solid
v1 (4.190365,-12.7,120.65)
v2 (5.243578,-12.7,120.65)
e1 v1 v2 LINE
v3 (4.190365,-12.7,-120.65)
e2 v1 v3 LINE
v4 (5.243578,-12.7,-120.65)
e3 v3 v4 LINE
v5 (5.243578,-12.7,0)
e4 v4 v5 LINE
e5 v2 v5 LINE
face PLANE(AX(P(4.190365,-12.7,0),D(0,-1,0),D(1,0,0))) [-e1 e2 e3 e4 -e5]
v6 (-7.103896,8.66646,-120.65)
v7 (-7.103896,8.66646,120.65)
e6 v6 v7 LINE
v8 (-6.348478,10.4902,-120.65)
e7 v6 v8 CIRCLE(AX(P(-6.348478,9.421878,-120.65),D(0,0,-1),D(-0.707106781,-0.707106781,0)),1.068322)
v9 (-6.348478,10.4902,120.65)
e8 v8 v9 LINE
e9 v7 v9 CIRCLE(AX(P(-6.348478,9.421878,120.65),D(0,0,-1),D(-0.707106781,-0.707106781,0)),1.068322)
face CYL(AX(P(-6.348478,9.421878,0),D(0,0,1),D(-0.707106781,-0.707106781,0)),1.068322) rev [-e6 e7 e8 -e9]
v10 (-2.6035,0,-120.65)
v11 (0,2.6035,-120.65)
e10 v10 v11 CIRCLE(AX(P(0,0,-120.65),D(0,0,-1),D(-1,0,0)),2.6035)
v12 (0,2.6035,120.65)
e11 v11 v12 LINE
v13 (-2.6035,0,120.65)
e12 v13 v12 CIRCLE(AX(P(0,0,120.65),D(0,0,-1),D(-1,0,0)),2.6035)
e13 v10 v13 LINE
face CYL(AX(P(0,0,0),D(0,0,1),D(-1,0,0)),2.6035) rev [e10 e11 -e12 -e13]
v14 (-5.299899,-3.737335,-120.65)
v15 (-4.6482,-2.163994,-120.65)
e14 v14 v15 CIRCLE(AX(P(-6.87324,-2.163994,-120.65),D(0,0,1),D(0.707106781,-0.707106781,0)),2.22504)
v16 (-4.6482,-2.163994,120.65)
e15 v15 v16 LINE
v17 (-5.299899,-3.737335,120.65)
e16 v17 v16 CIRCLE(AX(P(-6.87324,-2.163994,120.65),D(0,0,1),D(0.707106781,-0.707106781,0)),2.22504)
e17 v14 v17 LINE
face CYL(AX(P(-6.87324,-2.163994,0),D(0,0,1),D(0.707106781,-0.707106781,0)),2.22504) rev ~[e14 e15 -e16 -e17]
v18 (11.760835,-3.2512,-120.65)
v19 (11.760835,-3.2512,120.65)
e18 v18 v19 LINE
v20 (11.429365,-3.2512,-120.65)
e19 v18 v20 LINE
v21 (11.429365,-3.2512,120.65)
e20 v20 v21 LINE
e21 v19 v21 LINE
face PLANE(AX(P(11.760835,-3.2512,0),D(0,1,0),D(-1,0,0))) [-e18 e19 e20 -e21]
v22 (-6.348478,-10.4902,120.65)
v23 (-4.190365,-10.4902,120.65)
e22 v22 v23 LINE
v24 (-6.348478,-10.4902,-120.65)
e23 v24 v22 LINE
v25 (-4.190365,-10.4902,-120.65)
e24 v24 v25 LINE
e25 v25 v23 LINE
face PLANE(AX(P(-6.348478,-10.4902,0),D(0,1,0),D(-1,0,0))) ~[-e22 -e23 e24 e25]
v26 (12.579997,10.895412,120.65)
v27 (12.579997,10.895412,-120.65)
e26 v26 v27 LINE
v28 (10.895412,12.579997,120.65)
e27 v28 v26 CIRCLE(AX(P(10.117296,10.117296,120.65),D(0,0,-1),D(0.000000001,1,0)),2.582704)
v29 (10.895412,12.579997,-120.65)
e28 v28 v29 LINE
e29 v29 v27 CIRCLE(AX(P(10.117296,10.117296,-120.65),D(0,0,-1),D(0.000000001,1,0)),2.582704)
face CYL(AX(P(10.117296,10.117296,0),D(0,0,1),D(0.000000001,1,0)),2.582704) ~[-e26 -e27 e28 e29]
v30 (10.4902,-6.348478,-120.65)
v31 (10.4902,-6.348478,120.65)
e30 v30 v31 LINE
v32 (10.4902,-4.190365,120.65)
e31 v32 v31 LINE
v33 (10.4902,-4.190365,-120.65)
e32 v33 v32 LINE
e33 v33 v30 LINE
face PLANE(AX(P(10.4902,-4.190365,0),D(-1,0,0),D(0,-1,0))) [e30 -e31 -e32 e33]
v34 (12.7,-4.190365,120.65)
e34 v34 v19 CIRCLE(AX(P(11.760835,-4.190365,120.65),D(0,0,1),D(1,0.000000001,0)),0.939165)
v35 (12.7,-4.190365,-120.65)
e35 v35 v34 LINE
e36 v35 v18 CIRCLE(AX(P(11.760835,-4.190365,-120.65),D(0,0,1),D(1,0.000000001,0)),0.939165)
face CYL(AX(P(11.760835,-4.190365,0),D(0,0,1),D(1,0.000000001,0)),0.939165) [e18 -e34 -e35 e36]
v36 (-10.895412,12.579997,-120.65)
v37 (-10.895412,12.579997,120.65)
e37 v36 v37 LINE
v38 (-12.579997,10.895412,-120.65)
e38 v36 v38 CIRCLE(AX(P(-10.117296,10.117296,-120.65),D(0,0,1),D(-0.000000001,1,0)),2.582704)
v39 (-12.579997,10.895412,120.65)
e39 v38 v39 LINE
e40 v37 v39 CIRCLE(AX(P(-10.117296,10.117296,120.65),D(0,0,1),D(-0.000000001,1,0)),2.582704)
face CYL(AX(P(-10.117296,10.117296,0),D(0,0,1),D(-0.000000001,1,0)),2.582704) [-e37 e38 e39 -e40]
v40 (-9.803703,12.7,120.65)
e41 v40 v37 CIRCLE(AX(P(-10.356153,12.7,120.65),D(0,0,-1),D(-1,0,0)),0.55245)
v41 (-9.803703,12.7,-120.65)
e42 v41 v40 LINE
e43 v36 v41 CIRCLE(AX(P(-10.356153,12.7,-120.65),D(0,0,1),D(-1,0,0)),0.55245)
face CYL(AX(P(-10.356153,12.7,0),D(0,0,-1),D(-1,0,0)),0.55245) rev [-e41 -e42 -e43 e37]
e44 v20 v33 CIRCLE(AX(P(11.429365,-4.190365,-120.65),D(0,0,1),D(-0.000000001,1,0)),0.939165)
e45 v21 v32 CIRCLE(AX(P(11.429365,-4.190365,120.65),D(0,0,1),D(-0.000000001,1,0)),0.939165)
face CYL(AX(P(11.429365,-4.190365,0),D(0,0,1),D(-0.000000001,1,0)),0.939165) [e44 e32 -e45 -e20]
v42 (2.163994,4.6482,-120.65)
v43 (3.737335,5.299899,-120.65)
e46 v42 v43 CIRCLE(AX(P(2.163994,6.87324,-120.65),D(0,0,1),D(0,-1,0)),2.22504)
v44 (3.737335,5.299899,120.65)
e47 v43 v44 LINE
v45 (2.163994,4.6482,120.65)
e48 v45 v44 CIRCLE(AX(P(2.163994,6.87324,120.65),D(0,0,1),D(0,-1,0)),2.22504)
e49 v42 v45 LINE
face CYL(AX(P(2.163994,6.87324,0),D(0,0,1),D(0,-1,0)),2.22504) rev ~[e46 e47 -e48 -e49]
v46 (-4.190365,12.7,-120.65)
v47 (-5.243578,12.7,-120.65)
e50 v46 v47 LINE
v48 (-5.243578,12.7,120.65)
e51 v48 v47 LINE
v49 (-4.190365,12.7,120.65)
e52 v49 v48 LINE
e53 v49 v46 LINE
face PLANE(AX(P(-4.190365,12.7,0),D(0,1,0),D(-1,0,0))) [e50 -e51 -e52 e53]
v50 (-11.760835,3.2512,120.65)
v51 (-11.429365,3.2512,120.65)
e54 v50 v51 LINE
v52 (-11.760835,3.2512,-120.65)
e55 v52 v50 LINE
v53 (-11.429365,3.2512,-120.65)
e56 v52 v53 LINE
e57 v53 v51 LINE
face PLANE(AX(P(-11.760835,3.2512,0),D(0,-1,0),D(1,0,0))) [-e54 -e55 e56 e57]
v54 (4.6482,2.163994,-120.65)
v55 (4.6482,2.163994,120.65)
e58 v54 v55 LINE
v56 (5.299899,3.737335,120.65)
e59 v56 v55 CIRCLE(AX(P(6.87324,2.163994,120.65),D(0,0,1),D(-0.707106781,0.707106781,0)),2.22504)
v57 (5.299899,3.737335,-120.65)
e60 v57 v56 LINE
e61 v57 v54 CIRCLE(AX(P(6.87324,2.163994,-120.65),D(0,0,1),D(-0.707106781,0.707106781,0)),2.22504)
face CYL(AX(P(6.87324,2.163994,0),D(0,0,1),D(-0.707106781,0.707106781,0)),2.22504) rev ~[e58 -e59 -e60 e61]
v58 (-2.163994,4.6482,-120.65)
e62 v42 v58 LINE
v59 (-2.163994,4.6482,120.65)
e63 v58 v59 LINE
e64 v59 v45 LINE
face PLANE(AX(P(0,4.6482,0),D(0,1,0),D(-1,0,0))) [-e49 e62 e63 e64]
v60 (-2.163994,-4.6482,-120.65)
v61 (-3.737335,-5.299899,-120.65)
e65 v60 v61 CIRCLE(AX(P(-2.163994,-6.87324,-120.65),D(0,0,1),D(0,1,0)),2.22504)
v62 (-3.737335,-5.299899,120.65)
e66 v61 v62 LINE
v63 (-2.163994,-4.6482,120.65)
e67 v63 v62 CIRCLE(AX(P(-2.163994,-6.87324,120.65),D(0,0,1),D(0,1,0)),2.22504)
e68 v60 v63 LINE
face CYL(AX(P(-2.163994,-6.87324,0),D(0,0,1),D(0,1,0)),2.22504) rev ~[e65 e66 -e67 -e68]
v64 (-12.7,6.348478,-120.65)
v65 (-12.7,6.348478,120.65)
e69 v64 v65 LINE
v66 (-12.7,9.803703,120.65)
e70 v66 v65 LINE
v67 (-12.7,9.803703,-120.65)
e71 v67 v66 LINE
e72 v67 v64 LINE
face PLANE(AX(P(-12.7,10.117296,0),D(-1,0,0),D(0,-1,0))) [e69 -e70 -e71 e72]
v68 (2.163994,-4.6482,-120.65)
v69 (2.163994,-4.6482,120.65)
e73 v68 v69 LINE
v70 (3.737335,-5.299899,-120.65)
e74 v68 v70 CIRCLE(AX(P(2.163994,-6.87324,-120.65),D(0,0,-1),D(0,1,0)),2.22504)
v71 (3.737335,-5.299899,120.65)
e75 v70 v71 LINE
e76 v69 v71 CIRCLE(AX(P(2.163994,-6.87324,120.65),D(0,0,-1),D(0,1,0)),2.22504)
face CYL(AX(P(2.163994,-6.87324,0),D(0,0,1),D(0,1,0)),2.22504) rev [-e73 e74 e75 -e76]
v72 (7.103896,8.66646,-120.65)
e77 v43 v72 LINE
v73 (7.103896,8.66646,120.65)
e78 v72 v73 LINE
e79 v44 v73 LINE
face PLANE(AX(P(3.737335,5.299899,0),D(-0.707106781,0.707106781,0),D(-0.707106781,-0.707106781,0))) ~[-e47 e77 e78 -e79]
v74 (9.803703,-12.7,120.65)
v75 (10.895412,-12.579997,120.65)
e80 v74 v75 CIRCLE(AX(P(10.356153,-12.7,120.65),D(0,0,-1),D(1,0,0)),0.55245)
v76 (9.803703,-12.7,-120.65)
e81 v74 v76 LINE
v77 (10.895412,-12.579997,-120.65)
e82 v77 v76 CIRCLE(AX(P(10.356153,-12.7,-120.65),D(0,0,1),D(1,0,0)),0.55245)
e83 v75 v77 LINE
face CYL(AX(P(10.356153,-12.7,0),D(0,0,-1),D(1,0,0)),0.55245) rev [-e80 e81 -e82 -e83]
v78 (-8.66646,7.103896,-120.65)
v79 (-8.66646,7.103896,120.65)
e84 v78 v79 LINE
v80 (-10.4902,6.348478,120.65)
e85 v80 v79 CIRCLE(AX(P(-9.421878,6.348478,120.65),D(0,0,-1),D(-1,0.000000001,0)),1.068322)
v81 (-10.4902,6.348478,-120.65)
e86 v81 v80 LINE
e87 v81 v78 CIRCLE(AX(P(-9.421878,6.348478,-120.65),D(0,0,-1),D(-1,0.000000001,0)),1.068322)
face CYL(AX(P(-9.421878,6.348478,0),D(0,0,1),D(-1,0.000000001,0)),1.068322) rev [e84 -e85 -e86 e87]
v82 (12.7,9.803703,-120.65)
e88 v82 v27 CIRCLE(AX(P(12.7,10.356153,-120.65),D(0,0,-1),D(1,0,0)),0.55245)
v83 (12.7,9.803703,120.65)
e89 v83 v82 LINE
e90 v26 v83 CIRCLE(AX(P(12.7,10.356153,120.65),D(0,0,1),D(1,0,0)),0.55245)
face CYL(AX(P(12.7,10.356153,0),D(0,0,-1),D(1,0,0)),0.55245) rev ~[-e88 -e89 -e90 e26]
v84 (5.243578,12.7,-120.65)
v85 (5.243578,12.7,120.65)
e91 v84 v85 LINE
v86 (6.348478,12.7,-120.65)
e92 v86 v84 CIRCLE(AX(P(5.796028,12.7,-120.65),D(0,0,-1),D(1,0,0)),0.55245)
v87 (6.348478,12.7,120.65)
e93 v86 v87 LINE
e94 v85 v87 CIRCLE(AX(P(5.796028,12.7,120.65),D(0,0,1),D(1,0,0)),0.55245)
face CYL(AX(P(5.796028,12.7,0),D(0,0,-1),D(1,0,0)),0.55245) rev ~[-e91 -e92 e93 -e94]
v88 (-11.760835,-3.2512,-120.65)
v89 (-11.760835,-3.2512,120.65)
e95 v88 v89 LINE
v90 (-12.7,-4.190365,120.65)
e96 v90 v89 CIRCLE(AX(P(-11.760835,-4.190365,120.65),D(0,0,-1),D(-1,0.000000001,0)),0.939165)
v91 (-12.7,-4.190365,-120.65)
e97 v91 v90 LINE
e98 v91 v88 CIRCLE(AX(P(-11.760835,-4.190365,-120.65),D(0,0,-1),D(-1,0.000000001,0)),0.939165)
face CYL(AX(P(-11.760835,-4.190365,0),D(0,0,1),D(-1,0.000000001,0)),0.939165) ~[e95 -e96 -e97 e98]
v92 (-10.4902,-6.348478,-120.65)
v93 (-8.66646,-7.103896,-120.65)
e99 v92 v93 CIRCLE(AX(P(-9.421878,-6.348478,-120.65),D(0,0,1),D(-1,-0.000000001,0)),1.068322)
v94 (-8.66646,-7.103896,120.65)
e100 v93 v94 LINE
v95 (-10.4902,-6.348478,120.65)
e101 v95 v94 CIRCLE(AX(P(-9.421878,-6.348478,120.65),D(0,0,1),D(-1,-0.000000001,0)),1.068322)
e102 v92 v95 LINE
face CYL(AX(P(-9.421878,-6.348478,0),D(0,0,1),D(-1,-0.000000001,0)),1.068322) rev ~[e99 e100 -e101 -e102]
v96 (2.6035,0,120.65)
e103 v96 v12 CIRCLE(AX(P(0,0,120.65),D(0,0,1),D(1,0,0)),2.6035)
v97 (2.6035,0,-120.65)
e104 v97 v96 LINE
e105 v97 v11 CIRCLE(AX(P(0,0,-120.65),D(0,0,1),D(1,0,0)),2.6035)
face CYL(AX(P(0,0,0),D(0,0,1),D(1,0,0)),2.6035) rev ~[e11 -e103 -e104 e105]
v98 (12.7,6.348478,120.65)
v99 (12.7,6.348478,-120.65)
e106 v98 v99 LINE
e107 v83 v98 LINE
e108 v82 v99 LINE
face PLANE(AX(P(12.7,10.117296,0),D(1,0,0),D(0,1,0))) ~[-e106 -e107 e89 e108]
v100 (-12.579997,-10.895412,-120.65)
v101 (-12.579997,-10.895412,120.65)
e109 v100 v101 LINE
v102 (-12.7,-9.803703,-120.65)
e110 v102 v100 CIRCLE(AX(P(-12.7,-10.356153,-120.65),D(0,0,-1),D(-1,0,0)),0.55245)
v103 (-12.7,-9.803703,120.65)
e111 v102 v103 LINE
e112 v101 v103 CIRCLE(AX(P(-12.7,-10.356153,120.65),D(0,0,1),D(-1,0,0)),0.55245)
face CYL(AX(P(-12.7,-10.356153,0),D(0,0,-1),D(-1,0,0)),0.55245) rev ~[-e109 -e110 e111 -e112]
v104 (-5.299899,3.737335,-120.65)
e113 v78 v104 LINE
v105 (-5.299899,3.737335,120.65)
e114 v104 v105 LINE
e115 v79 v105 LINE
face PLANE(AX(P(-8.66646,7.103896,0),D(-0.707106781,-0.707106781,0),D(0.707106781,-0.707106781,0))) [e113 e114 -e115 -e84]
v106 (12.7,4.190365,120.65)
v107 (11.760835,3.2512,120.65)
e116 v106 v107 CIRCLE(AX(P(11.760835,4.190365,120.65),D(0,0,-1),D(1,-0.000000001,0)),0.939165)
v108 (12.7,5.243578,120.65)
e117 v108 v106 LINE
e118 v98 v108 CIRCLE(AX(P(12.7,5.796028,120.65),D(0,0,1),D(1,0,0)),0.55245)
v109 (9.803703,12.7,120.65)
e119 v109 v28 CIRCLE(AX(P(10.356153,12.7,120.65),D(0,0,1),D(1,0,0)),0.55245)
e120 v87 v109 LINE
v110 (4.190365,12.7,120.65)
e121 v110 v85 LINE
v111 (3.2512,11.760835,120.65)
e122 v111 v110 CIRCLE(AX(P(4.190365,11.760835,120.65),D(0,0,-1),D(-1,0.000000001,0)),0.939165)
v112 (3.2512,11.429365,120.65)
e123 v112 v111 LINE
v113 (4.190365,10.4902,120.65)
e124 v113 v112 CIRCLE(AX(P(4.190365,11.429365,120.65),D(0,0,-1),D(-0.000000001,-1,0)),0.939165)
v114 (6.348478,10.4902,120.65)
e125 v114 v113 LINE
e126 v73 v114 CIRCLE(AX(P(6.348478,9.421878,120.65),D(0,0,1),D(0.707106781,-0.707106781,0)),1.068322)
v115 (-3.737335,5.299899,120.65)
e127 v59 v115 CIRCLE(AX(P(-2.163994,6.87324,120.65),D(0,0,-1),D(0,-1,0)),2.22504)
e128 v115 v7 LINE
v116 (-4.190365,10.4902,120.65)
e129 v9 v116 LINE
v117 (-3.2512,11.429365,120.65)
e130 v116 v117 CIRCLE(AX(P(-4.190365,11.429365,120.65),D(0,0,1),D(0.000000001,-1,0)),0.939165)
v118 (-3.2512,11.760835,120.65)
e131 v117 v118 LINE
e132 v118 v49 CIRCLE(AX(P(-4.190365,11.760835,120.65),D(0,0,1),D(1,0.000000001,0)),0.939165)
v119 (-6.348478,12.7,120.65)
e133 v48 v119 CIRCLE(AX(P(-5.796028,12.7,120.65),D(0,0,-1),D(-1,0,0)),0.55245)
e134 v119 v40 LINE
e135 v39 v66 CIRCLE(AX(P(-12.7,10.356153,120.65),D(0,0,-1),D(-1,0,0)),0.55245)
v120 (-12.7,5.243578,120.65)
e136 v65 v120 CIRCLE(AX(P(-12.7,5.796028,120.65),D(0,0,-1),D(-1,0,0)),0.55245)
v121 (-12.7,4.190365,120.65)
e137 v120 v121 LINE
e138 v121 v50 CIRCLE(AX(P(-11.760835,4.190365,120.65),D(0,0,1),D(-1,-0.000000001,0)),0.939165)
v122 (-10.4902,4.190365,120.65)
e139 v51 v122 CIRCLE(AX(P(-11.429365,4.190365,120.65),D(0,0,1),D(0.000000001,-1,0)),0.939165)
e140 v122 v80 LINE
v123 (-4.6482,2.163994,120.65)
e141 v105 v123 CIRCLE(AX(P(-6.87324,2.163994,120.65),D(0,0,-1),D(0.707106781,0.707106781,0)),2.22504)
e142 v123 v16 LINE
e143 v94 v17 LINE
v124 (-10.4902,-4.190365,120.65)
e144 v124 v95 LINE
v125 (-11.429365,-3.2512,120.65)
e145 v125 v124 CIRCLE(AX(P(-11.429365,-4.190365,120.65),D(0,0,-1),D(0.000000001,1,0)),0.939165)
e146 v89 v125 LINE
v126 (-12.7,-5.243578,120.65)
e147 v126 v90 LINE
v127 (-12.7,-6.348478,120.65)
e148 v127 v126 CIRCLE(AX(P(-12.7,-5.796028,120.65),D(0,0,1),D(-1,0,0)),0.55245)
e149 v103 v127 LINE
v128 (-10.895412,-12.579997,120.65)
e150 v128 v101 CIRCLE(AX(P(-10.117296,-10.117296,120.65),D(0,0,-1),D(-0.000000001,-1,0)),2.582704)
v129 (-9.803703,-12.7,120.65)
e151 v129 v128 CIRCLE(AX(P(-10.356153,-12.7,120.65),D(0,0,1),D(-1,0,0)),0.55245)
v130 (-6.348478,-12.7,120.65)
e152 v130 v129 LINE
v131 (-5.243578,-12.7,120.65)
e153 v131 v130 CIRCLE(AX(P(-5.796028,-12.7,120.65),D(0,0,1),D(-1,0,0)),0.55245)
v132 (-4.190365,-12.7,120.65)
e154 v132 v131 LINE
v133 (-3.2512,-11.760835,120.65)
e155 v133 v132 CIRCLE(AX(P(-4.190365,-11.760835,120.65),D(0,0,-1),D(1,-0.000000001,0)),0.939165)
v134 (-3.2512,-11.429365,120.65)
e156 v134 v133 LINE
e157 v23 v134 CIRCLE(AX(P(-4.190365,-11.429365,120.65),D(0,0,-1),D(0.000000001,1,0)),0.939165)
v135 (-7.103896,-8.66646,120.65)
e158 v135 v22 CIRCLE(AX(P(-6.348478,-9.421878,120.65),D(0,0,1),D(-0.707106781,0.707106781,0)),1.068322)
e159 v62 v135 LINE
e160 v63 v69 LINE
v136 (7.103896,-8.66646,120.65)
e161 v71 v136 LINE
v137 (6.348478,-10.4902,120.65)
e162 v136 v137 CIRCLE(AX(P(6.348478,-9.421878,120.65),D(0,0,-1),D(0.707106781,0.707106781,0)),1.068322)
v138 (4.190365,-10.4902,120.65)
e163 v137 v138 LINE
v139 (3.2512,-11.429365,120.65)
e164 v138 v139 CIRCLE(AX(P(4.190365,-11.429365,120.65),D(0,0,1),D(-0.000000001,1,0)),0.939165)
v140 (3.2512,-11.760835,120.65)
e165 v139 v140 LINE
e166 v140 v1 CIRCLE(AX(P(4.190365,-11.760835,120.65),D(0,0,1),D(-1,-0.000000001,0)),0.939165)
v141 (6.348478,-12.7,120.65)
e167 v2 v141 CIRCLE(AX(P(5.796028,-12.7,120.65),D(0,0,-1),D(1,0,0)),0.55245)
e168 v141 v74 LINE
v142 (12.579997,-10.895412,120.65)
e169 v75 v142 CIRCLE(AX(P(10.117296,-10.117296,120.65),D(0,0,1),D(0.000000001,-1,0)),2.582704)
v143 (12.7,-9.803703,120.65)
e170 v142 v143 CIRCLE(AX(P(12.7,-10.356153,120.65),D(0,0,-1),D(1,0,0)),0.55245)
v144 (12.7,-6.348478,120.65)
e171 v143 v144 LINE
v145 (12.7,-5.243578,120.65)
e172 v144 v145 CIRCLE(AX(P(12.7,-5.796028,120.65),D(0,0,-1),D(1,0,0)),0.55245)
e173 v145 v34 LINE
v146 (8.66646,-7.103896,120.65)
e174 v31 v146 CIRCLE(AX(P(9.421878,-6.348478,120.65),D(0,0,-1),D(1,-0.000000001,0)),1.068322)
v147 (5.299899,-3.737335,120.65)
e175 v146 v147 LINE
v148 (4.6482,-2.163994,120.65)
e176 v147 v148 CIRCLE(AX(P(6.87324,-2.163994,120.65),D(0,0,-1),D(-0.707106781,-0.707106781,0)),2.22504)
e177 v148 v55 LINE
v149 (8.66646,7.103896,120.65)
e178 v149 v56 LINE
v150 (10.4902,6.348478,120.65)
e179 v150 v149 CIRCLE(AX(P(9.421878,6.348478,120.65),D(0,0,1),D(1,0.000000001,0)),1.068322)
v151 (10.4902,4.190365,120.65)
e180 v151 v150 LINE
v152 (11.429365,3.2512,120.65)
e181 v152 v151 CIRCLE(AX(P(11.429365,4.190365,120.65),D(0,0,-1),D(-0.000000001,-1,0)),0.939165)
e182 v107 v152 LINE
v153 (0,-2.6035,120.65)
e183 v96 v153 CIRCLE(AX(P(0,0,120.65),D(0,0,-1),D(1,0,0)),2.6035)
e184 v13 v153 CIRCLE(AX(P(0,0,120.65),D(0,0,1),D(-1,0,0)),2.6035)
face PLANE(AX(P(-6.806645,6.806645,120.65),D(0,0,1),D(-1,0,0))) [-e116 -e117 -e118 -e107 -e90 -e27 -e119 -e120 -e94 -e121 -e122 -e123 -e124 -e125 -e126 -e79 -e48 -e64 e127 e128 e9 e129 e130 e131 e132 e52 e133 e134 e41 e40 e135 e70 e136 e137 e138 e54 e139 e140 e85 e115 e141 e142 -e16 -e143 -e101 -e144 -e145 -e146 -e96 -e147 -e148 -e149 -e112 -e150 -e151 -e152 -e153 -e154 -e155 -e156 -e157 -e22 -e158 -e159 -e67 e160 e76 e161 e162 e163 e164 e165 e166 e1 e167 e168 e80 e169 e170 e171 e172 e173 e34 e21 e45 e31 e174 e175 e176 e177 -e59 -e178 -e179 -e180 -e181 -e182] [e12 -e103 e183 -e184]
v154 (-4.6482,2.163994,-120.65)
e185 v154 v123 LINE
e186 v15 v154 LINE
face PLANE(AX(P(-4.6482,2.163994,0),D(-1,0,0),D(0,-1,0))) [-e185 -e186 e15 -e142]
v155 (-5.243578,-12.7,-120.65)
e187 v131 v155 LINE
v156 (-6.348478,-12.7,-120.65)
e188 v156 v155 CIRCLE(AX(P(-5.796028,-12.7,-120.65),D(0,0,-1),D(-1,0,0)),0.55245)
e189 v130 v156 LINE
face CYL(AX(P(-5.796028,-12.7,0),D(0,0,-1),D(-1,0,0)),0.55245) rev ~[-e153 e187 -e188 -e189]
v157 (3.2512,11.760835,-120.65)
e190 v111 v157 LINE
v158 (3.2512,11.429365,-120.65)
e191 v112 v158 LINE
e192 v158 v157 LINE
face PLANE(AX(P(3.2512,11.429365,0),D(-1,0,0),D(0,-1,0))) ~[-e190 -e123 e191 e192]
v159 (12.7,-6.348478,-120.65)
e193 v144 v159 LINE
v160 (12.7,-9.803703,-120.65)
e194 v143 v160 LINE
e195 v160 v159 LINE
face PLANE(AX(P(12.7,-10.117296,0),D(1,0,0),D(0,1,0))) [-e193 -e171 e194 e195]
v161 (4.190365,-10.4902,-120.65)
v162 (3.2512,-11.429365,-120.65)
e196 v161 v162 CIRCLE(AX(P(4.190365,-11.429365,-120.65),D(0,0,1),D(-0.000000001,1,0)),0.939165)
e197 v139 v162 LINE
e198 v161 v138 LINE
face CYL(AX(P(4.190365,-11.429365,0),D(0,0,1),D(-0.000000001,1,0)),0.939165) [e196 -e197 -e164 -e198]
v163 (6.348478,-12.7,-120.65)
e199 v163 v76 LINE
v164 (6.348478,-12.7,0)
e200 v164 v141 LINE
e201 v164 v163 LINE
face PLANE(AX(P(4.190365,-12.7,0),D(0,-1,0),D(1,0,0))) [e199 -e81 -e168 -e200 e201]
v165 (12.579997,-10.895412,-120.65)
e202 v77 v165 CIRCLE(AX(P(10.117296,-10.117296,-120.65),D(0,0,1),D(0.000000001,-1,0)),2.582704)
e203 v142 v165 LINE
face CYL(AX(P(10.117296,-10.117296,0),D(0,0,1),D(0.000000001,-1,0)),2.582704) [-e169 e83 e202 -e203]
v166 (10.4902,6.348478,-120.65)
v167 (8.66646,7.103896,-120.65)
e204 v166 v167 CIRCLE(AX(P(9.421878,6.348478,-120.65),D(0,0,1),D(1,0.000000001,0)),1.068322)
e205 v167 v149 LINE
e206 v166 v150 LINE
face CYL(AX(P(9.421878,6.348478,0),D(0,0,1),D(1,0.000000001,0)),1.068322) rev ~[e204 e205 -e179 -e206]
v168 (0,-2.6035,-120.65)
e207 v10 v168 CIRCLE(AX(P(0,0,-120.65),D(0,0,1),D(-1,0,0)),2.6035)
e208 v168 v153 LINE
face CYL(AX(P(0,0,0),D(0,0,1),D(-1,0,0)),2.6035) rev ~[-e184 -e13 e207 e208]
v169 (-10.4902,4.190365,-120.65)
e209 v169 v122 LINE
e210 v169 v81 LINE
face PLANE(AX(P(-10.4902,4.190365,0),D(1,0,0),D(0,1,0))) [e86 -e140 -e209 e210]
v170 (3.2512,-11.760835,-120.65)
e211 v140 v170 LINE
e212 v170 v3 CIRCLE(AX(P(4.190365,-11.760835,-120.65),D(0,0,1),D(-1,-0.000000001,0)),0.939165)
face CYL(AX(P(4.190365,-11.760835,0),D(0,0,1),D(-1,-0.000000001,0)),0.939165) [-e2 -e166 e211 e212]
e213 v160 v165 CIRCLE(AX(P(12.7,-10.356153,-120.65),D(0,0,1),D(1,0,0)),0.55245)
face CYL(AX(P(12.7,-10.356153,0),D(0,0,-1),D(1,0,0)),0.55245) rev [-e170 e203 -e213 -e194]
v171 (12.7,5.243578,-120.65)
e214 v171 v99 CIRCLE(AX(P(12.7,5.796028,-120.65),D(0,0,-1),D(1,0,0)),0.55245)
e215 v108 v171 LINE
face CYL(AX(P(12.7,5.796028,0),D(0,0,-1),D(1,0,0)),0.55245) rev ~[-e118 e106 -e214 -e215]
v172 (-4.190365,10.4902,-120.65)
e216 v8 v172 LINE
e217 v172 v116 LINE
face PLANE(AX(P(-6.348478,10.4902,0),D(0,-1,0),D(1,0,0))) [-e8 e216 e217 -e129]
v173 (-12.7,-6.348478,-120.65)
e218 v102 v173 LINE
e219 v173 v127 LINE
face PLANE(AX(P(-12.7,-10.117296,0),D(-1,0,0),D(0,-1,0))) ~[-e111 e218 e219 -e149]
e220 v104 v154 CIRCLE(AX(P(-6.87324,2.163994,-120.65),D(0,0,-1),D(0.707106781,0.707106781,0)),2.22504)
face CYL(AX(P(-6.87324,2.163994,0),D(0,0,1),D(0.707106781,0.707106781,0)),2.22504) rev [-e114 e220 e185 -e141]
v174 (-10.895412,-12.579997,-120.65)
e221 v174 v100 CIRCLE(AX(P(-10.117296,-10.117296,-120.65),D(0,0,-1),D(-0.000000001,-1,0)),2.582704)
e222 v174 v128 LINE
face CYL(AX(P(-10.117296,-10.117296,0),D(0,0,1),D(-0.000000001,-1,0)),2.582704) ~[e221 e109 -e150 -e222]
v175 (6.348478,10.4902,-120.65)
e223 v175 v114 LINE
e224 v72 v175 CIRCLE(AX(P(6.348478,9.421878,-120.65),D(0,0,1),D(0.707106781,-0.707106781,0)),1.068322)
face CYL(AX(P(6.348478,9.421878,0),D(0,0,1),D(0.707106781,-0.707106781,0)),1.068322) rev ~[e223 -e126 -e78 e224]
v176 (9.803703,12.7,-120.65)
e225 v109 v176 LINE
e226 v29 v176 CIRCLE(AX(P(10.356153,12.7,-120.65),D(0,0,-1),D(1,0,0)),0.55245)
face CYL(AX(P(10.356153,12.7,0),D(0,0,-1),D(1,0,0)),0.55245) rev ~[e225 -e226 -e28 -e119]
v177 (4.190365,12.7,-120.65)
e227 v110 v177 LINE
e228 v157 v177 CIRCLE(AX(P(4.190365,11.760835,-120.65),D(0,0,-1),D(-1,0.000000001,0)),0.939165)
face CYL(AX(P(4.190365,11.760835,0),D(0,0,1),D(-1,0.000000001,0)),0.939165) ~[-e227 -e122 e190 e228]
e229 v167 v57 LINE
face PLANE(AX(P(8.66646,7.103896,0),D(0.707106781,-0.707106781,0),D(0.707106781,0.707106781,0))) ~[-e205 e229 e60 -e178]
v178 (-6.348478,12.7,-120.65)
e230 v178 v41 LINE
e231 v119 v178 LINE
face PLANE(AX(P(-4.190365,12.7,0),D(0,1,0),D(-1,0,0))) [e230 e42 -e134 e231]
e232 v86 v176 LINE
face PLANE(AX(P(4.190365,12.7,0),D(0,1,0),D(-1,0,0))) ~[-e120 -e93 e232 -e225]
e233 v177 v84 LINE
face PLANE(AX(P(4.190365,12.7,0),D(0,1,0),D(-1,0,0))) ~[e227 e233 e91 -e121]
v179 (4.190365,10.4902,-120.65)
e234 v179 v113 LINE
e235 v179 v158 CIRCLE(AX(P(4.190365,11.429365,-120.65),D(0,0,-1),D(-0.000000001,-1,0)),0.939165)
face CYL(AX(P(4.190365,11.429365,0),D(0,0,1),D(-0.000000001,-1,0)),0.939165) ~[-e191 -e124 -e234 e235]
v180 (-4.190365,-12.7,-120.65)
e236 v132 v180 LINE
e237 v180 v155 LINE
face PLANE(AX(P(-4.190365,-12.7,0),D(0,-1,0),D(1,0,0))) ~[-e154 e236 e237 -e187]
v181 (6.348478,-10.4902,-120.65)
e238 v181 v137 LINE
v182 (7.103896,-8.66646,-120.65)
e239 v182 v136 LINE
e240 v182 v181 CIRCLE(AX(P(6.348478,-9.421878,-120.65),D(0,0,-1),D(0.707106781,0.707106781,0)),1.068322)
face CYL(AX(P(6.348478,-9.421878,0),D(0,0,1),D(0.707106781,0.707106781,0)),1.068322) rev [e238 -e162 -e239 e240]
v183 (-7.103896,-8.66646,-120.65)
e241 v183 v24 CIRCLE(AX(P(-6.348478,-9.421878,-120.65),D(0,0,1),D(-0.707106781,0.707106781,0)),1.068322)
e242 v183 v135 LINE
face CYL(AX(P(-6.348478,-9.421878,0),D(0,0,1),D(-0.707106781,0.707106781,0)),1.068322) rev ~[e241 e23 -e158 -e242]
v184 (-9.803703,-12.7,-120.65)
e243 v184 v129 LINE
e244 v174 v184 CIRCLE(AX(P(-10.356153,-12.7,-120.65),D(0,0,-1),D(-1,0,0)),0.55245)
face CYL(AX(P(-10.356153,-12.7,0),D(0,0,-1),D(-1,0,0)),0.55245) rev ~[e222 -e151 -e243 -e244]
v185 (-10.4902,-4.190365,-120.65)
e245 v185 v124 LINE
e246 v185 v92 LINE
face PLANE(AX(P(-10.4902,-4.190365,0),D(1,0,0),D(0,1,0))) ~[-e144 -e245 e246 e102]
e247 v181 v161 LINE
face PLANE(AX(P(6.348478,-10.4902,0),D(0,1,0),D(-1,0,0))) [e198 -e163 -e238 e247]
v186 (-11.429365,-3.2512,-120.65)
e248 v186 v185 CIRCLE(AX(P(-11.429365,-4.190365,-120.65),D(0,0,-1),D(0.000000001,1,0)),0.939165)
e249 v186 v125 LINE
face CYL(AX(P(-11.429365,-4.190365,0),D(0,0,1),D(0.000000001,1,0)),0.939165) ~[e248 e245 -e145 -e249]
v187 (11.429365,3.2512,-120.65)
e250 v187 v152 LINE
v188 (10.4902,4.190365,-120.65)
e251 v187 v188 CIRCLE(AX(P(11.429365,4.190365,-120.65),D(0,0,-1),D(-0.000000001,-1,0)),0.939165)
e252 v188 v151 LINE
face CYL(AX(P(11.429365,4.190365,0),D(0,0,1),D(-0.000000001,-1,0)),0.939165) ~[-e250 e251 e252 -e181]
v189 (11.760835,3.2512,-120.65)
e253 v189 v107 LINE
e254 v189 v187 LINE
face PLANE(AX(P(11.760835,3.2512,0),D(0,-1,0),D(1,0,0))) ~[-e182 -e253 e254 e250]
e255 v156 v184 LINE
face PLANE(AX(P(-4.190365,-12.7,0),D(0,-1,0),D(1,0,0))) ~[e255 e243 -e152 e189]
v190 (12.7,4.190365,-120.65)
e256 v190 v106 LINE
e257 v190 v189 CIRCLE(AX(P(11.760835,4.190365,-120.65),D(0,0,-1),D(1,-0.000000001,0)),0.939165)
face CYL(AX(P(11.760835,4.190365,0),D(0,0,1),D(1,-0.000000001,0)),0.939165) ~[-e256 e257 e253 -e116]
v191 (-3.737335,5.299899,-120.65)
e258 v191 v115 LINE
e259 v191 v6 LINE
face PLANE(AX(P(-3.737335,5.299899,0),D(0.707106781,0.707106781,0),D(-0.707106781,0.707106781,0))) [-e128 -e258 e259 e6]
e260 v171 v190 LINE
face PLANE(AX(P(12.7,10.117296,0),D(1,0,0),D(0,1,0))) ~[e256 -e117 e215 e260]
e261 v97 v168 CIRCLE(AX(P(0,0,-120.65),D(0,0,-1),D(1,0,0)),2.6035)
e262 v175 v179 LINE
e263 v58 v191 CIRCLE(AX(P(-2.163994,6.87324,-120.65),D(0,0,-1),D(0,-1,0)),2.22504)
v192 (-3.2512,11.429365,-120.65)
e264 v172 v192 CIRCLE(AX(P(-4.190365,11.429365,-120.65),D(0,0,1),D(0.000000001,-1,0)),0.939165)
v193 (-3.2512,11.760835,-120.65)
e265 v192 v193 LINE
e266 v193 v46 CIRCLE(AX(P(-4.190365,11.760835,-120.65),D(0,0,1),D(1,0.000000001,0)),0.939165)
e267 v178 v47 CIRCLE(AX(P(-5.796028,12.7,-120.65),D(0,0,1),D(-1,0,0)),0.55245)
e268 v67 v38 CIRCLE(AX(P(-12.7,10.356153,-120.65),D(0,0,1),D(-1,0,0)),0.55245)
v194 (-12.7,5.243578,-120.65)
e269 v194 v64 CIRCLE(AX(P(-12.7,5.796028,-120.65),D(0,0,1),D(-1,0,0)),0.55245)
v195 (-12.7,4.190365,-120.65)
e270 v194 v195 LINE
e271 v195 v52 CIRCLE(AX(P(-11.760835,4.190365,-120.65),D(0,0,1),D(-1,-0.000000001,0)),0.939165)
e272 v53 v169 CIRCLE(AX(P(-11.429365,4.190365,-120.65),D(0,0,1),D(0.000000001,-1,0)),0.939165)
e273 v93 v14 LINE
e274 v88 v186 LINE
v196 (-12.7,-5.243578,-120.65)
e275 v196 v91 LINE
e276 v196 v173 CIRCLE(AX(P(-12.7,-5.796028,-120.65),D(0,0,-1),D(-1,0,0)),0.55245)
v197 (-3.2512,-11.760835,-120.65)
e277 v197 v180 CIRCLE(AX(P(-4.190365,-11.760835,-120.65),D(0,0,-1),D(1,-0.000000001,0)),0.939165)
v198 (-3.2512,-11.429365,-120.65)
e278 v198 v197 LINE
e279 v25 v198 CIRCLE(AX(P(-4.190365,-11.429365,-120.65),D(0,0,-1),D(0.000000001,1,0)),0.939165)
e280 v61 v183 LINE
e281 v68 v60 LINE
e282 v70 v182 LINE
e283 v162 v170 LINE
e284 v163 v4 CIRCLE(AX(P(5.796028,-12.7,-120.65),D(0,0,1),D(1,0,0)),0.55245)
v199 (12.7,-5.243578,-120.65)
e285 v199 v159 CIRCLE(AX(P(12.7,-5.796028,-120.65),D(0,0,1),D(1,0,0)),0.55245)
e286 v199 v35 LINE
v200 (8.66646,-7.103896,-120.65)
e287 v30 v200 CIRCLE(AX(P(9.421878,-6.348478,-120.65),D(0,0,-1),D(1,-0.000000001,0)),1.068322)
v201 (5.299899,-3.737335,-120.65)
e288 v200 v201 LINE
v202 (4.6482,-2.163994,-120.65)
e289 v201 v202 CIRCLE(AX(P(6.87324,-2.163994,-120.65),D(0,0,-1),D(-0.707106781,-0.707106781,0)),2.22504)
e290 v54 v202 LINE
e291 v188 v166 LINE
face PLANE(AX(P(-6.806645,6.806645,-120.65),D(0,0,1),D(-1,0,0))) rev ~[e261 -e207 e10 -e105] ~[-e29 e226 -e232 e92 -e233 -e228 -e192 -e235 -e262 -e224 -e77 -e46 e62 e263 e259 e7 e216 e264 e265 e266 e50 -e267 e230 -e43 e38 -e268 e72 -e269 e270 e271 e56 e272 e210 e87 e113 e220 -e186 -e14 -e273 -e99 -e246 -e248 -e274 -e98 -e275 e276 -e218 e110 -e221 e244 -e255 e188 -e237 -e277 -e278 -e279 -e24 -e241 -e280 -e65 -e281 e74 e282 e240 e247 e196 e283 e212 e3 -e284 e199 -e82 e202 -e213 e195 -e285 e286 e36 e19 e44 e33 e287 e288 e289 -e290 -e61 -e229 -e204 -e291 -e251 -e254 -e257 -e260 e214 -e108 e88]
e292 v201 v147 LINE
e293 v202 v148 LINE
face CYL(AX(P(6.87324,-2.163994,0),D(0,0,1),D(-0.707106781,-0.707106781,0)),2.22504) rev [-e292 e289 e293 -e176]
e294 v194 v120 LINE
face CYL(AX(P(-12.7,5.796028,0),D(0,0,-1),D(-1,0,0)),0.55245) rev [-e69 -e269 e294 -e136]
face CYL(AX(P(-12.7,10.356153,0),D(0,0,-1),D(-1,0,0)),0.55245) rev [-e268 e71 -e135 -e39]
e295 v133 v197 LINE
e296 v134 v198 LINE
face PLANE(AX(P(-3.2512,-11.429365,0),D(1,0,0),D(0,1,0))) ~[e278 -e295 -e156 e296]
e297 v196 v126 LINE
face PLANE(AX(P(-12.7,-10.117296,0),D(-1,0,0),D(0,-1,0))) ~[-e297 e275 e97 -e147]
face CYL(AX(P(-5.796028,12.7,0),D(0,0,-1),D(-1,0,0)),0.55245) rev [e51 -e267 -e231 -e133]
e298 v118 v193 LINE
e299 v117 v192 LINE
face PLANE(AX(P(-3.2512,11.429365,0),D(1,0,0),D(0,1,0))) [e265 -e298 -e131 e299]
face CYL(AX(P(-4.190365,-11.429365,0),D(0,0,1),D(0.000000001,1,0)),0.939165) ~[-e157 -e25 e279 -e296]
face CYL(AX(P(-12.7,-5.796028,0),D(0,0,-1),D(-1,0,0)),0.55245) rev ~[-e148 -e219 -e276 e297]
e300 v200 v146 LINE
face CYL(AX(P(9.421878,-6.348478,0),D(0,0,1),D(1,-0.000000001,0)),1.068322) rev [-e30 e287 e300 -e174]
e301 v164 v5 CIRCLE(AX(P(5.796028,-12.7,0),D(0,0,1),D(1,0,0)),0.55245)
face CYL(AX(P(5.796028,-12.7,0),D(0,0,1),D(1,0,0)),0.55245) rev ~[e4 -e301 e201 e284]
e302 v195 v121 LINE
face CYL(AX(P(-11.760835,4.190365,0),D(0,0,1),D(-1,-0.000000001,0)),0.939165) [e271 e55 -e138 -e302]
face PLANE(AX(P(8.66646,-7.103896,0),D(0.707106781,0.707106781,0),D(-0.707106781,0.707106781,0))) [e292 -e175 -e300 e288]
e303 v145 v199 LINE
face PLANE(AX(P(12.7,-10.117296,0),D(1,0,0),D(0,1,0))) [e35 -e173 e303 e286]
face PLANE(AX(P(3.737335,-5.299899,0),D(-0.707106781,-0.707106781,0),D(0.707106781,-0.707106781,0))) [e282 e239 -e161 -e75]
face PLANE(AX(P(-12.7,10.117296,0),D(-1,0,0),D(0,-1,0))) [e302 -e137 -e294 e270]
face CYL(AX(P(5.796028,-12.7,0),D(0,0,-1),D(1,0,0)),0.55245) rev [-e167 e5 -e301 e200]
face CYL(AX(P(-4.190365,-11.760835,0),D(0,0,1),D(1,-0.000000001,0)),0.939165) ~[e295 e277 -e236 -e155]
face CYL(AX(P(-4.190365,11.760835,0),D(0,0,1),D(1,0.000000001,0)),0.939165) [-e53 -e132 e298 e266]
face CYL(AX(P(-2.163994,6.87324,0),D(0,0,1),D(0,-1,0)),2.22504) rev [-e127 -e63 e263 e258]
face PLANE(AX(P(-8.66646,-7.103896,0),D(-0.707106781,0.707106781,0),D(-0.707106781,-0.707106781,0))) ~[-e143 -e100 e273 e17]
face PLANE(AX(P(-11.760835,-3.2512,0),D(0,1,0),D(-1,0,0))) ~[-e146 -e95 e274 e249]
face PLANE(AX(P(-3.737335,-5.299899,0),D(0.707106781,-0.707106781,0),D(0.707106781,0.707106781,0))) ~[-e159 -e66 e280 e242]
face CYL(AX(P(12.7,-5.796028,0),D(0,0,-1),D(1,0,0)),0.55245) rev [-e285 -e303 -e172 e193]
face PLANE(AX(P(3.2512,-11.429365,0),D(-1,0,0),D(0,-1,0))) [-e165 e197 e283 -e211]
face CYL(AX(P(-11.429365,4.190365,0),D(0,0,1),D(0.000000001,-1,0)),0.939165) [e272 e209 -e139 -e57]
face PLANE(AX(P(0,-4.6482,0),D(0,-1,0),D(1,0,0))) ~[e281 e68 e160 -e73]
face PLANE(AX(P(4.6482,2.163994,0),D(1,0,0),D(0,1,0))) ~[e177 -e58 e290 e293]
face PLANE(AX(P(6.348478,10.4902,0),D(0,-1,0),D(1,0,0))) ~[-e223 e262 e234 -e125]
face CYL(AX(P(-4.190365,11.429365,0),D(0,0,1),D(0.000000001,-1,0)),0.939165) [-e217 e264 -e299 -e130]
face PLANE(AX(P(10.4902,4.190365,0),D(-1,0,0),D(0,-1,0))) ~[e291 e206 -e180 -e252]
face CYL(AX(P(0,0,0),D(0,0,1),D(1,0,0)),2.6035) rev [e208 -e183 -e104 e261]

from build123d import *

# Parameters (mm, degrees)
BOSS_EXTRUDE1_DEPTH     = 120.65
SKETCH5_R               = 0.55245
CUT_EXTRUDE1_DEPTH      = 121.65
CUT_EXTRUDE1_DEPTH_BACK = 121.65


with BuildPart() as part:
    # Sketch4 → Boss-Extrude1 (new body, symmetric)
    with BuildSketch(Plane.XY):
        with BuildLine():
            Line((4.190365, -12.7), (10.11729625, -12.7))
            ThreePointArc((10.11729625, -12.7), (11.943543585, -11.943543585), (12.7, -10.11729625))
            Line((12.7, -10.11729625), (12.7, -4.190365))
            ThreePointArc((12.7, -4.190365), (12.42492494, -3.52627506), (11.760835, -3.2512))
            Line((11.760835, -3.2512), (11.429365, -3.2512))
            ThreePointArc((11.429365, -3.2512), (10.76527506, -3.52627506), (10.4902, -4.190365))
            Line((10.4902, -4.190365), (10.4902, -6.348478019))
            ThreePointArc((10.4902, -6.348478019), (9.830707141, -7.335478831), (8.666460301, -7.103895736))
            Line((8.666460301, -7.103895736), (5.299899128, -3.737334563))
            ThreePointArc((5.299899128, -3.737334563), (4.817571085, -3.015479634), (4.6482, -2.16399369))
            Line((4.6482, -2.16399369), (4.6482, 0))
            Line((4.6482, 0), (2.6035, 0))
            ThreePointArc((2.6035, 0), (1.840952505, -1.840952505), (0, -2.6035))
            Line((0, -2.6035), (0, -4.6482))
            Line((0, -4.6482), (2.16399369, -4.6482))
            ThreePointArc((2.16399369, -4.6482), (3.015479634, -4.817571085), (3.737334563, -5.299899128))
            Line((3.737334563, -5.299899128), (7.103895736, -8.666460301))
            ThreePointArc((7.103895736, -8.666460301), (7.335478831, -9.830707141), (6.348478019, -10.4902))
            Line((6.348478019, -10.4902), (4.190365, -10.4902))
            ThreePointArc((4.190365, -10.4902), (3.52627506, -10.76527506), (3.2512, -11.429365))
            Line((3.2512, -11.429365), (3.2512, -11.760835))
            ThreePointArc((3.2512, -11.760835), (3.52627506, -12.42492494), (4.190365, -12.7))
        make_face()
    extrude(amount=BOSS_EXTRUDE1_DEPTH, both=True)

    # Sketch5 → Cut-Extrude1 (cut, two sides)
    with BuildSketch(Plane.XY) as cut_extrude1_sk:
        with Locations((10.356153152, -12.7)):
            Circle(SKETCH5_R)
        with Locations((5.796028019, -12.7)):
            Circle(SKETCH5_R)
        with Locations((12.7, -10.356153152)):
            Circle(SKETCH5_R)
        with Locations((12.7, -5.796028019)):
            Circle(SKETCH5_R)
    extrude(amount=CUT_EXTRUDE1_DEPTH, mode=Mode.SUBTRACT)
    extrude(cut_extrude1_sk.sketch, amount=-CUT_EXTRUDE1_DEPTH_BACK, mode=Mode.SUBTRACT)

    # Mirror1: part across plane


with BuildPart() as part_1:
    add(part.part)
    add(part.part.mirror(Plane(origin=(0, 0, 0), x_dir=(0, 0, 1), z_dir=(1, 0, 0))))

    # Mirror2: part across plane


with BuildPart() as part_2:
    add(part_1.part)
    add(part_1.part.mirror(Plane.ZX))


solid = part_2.part
